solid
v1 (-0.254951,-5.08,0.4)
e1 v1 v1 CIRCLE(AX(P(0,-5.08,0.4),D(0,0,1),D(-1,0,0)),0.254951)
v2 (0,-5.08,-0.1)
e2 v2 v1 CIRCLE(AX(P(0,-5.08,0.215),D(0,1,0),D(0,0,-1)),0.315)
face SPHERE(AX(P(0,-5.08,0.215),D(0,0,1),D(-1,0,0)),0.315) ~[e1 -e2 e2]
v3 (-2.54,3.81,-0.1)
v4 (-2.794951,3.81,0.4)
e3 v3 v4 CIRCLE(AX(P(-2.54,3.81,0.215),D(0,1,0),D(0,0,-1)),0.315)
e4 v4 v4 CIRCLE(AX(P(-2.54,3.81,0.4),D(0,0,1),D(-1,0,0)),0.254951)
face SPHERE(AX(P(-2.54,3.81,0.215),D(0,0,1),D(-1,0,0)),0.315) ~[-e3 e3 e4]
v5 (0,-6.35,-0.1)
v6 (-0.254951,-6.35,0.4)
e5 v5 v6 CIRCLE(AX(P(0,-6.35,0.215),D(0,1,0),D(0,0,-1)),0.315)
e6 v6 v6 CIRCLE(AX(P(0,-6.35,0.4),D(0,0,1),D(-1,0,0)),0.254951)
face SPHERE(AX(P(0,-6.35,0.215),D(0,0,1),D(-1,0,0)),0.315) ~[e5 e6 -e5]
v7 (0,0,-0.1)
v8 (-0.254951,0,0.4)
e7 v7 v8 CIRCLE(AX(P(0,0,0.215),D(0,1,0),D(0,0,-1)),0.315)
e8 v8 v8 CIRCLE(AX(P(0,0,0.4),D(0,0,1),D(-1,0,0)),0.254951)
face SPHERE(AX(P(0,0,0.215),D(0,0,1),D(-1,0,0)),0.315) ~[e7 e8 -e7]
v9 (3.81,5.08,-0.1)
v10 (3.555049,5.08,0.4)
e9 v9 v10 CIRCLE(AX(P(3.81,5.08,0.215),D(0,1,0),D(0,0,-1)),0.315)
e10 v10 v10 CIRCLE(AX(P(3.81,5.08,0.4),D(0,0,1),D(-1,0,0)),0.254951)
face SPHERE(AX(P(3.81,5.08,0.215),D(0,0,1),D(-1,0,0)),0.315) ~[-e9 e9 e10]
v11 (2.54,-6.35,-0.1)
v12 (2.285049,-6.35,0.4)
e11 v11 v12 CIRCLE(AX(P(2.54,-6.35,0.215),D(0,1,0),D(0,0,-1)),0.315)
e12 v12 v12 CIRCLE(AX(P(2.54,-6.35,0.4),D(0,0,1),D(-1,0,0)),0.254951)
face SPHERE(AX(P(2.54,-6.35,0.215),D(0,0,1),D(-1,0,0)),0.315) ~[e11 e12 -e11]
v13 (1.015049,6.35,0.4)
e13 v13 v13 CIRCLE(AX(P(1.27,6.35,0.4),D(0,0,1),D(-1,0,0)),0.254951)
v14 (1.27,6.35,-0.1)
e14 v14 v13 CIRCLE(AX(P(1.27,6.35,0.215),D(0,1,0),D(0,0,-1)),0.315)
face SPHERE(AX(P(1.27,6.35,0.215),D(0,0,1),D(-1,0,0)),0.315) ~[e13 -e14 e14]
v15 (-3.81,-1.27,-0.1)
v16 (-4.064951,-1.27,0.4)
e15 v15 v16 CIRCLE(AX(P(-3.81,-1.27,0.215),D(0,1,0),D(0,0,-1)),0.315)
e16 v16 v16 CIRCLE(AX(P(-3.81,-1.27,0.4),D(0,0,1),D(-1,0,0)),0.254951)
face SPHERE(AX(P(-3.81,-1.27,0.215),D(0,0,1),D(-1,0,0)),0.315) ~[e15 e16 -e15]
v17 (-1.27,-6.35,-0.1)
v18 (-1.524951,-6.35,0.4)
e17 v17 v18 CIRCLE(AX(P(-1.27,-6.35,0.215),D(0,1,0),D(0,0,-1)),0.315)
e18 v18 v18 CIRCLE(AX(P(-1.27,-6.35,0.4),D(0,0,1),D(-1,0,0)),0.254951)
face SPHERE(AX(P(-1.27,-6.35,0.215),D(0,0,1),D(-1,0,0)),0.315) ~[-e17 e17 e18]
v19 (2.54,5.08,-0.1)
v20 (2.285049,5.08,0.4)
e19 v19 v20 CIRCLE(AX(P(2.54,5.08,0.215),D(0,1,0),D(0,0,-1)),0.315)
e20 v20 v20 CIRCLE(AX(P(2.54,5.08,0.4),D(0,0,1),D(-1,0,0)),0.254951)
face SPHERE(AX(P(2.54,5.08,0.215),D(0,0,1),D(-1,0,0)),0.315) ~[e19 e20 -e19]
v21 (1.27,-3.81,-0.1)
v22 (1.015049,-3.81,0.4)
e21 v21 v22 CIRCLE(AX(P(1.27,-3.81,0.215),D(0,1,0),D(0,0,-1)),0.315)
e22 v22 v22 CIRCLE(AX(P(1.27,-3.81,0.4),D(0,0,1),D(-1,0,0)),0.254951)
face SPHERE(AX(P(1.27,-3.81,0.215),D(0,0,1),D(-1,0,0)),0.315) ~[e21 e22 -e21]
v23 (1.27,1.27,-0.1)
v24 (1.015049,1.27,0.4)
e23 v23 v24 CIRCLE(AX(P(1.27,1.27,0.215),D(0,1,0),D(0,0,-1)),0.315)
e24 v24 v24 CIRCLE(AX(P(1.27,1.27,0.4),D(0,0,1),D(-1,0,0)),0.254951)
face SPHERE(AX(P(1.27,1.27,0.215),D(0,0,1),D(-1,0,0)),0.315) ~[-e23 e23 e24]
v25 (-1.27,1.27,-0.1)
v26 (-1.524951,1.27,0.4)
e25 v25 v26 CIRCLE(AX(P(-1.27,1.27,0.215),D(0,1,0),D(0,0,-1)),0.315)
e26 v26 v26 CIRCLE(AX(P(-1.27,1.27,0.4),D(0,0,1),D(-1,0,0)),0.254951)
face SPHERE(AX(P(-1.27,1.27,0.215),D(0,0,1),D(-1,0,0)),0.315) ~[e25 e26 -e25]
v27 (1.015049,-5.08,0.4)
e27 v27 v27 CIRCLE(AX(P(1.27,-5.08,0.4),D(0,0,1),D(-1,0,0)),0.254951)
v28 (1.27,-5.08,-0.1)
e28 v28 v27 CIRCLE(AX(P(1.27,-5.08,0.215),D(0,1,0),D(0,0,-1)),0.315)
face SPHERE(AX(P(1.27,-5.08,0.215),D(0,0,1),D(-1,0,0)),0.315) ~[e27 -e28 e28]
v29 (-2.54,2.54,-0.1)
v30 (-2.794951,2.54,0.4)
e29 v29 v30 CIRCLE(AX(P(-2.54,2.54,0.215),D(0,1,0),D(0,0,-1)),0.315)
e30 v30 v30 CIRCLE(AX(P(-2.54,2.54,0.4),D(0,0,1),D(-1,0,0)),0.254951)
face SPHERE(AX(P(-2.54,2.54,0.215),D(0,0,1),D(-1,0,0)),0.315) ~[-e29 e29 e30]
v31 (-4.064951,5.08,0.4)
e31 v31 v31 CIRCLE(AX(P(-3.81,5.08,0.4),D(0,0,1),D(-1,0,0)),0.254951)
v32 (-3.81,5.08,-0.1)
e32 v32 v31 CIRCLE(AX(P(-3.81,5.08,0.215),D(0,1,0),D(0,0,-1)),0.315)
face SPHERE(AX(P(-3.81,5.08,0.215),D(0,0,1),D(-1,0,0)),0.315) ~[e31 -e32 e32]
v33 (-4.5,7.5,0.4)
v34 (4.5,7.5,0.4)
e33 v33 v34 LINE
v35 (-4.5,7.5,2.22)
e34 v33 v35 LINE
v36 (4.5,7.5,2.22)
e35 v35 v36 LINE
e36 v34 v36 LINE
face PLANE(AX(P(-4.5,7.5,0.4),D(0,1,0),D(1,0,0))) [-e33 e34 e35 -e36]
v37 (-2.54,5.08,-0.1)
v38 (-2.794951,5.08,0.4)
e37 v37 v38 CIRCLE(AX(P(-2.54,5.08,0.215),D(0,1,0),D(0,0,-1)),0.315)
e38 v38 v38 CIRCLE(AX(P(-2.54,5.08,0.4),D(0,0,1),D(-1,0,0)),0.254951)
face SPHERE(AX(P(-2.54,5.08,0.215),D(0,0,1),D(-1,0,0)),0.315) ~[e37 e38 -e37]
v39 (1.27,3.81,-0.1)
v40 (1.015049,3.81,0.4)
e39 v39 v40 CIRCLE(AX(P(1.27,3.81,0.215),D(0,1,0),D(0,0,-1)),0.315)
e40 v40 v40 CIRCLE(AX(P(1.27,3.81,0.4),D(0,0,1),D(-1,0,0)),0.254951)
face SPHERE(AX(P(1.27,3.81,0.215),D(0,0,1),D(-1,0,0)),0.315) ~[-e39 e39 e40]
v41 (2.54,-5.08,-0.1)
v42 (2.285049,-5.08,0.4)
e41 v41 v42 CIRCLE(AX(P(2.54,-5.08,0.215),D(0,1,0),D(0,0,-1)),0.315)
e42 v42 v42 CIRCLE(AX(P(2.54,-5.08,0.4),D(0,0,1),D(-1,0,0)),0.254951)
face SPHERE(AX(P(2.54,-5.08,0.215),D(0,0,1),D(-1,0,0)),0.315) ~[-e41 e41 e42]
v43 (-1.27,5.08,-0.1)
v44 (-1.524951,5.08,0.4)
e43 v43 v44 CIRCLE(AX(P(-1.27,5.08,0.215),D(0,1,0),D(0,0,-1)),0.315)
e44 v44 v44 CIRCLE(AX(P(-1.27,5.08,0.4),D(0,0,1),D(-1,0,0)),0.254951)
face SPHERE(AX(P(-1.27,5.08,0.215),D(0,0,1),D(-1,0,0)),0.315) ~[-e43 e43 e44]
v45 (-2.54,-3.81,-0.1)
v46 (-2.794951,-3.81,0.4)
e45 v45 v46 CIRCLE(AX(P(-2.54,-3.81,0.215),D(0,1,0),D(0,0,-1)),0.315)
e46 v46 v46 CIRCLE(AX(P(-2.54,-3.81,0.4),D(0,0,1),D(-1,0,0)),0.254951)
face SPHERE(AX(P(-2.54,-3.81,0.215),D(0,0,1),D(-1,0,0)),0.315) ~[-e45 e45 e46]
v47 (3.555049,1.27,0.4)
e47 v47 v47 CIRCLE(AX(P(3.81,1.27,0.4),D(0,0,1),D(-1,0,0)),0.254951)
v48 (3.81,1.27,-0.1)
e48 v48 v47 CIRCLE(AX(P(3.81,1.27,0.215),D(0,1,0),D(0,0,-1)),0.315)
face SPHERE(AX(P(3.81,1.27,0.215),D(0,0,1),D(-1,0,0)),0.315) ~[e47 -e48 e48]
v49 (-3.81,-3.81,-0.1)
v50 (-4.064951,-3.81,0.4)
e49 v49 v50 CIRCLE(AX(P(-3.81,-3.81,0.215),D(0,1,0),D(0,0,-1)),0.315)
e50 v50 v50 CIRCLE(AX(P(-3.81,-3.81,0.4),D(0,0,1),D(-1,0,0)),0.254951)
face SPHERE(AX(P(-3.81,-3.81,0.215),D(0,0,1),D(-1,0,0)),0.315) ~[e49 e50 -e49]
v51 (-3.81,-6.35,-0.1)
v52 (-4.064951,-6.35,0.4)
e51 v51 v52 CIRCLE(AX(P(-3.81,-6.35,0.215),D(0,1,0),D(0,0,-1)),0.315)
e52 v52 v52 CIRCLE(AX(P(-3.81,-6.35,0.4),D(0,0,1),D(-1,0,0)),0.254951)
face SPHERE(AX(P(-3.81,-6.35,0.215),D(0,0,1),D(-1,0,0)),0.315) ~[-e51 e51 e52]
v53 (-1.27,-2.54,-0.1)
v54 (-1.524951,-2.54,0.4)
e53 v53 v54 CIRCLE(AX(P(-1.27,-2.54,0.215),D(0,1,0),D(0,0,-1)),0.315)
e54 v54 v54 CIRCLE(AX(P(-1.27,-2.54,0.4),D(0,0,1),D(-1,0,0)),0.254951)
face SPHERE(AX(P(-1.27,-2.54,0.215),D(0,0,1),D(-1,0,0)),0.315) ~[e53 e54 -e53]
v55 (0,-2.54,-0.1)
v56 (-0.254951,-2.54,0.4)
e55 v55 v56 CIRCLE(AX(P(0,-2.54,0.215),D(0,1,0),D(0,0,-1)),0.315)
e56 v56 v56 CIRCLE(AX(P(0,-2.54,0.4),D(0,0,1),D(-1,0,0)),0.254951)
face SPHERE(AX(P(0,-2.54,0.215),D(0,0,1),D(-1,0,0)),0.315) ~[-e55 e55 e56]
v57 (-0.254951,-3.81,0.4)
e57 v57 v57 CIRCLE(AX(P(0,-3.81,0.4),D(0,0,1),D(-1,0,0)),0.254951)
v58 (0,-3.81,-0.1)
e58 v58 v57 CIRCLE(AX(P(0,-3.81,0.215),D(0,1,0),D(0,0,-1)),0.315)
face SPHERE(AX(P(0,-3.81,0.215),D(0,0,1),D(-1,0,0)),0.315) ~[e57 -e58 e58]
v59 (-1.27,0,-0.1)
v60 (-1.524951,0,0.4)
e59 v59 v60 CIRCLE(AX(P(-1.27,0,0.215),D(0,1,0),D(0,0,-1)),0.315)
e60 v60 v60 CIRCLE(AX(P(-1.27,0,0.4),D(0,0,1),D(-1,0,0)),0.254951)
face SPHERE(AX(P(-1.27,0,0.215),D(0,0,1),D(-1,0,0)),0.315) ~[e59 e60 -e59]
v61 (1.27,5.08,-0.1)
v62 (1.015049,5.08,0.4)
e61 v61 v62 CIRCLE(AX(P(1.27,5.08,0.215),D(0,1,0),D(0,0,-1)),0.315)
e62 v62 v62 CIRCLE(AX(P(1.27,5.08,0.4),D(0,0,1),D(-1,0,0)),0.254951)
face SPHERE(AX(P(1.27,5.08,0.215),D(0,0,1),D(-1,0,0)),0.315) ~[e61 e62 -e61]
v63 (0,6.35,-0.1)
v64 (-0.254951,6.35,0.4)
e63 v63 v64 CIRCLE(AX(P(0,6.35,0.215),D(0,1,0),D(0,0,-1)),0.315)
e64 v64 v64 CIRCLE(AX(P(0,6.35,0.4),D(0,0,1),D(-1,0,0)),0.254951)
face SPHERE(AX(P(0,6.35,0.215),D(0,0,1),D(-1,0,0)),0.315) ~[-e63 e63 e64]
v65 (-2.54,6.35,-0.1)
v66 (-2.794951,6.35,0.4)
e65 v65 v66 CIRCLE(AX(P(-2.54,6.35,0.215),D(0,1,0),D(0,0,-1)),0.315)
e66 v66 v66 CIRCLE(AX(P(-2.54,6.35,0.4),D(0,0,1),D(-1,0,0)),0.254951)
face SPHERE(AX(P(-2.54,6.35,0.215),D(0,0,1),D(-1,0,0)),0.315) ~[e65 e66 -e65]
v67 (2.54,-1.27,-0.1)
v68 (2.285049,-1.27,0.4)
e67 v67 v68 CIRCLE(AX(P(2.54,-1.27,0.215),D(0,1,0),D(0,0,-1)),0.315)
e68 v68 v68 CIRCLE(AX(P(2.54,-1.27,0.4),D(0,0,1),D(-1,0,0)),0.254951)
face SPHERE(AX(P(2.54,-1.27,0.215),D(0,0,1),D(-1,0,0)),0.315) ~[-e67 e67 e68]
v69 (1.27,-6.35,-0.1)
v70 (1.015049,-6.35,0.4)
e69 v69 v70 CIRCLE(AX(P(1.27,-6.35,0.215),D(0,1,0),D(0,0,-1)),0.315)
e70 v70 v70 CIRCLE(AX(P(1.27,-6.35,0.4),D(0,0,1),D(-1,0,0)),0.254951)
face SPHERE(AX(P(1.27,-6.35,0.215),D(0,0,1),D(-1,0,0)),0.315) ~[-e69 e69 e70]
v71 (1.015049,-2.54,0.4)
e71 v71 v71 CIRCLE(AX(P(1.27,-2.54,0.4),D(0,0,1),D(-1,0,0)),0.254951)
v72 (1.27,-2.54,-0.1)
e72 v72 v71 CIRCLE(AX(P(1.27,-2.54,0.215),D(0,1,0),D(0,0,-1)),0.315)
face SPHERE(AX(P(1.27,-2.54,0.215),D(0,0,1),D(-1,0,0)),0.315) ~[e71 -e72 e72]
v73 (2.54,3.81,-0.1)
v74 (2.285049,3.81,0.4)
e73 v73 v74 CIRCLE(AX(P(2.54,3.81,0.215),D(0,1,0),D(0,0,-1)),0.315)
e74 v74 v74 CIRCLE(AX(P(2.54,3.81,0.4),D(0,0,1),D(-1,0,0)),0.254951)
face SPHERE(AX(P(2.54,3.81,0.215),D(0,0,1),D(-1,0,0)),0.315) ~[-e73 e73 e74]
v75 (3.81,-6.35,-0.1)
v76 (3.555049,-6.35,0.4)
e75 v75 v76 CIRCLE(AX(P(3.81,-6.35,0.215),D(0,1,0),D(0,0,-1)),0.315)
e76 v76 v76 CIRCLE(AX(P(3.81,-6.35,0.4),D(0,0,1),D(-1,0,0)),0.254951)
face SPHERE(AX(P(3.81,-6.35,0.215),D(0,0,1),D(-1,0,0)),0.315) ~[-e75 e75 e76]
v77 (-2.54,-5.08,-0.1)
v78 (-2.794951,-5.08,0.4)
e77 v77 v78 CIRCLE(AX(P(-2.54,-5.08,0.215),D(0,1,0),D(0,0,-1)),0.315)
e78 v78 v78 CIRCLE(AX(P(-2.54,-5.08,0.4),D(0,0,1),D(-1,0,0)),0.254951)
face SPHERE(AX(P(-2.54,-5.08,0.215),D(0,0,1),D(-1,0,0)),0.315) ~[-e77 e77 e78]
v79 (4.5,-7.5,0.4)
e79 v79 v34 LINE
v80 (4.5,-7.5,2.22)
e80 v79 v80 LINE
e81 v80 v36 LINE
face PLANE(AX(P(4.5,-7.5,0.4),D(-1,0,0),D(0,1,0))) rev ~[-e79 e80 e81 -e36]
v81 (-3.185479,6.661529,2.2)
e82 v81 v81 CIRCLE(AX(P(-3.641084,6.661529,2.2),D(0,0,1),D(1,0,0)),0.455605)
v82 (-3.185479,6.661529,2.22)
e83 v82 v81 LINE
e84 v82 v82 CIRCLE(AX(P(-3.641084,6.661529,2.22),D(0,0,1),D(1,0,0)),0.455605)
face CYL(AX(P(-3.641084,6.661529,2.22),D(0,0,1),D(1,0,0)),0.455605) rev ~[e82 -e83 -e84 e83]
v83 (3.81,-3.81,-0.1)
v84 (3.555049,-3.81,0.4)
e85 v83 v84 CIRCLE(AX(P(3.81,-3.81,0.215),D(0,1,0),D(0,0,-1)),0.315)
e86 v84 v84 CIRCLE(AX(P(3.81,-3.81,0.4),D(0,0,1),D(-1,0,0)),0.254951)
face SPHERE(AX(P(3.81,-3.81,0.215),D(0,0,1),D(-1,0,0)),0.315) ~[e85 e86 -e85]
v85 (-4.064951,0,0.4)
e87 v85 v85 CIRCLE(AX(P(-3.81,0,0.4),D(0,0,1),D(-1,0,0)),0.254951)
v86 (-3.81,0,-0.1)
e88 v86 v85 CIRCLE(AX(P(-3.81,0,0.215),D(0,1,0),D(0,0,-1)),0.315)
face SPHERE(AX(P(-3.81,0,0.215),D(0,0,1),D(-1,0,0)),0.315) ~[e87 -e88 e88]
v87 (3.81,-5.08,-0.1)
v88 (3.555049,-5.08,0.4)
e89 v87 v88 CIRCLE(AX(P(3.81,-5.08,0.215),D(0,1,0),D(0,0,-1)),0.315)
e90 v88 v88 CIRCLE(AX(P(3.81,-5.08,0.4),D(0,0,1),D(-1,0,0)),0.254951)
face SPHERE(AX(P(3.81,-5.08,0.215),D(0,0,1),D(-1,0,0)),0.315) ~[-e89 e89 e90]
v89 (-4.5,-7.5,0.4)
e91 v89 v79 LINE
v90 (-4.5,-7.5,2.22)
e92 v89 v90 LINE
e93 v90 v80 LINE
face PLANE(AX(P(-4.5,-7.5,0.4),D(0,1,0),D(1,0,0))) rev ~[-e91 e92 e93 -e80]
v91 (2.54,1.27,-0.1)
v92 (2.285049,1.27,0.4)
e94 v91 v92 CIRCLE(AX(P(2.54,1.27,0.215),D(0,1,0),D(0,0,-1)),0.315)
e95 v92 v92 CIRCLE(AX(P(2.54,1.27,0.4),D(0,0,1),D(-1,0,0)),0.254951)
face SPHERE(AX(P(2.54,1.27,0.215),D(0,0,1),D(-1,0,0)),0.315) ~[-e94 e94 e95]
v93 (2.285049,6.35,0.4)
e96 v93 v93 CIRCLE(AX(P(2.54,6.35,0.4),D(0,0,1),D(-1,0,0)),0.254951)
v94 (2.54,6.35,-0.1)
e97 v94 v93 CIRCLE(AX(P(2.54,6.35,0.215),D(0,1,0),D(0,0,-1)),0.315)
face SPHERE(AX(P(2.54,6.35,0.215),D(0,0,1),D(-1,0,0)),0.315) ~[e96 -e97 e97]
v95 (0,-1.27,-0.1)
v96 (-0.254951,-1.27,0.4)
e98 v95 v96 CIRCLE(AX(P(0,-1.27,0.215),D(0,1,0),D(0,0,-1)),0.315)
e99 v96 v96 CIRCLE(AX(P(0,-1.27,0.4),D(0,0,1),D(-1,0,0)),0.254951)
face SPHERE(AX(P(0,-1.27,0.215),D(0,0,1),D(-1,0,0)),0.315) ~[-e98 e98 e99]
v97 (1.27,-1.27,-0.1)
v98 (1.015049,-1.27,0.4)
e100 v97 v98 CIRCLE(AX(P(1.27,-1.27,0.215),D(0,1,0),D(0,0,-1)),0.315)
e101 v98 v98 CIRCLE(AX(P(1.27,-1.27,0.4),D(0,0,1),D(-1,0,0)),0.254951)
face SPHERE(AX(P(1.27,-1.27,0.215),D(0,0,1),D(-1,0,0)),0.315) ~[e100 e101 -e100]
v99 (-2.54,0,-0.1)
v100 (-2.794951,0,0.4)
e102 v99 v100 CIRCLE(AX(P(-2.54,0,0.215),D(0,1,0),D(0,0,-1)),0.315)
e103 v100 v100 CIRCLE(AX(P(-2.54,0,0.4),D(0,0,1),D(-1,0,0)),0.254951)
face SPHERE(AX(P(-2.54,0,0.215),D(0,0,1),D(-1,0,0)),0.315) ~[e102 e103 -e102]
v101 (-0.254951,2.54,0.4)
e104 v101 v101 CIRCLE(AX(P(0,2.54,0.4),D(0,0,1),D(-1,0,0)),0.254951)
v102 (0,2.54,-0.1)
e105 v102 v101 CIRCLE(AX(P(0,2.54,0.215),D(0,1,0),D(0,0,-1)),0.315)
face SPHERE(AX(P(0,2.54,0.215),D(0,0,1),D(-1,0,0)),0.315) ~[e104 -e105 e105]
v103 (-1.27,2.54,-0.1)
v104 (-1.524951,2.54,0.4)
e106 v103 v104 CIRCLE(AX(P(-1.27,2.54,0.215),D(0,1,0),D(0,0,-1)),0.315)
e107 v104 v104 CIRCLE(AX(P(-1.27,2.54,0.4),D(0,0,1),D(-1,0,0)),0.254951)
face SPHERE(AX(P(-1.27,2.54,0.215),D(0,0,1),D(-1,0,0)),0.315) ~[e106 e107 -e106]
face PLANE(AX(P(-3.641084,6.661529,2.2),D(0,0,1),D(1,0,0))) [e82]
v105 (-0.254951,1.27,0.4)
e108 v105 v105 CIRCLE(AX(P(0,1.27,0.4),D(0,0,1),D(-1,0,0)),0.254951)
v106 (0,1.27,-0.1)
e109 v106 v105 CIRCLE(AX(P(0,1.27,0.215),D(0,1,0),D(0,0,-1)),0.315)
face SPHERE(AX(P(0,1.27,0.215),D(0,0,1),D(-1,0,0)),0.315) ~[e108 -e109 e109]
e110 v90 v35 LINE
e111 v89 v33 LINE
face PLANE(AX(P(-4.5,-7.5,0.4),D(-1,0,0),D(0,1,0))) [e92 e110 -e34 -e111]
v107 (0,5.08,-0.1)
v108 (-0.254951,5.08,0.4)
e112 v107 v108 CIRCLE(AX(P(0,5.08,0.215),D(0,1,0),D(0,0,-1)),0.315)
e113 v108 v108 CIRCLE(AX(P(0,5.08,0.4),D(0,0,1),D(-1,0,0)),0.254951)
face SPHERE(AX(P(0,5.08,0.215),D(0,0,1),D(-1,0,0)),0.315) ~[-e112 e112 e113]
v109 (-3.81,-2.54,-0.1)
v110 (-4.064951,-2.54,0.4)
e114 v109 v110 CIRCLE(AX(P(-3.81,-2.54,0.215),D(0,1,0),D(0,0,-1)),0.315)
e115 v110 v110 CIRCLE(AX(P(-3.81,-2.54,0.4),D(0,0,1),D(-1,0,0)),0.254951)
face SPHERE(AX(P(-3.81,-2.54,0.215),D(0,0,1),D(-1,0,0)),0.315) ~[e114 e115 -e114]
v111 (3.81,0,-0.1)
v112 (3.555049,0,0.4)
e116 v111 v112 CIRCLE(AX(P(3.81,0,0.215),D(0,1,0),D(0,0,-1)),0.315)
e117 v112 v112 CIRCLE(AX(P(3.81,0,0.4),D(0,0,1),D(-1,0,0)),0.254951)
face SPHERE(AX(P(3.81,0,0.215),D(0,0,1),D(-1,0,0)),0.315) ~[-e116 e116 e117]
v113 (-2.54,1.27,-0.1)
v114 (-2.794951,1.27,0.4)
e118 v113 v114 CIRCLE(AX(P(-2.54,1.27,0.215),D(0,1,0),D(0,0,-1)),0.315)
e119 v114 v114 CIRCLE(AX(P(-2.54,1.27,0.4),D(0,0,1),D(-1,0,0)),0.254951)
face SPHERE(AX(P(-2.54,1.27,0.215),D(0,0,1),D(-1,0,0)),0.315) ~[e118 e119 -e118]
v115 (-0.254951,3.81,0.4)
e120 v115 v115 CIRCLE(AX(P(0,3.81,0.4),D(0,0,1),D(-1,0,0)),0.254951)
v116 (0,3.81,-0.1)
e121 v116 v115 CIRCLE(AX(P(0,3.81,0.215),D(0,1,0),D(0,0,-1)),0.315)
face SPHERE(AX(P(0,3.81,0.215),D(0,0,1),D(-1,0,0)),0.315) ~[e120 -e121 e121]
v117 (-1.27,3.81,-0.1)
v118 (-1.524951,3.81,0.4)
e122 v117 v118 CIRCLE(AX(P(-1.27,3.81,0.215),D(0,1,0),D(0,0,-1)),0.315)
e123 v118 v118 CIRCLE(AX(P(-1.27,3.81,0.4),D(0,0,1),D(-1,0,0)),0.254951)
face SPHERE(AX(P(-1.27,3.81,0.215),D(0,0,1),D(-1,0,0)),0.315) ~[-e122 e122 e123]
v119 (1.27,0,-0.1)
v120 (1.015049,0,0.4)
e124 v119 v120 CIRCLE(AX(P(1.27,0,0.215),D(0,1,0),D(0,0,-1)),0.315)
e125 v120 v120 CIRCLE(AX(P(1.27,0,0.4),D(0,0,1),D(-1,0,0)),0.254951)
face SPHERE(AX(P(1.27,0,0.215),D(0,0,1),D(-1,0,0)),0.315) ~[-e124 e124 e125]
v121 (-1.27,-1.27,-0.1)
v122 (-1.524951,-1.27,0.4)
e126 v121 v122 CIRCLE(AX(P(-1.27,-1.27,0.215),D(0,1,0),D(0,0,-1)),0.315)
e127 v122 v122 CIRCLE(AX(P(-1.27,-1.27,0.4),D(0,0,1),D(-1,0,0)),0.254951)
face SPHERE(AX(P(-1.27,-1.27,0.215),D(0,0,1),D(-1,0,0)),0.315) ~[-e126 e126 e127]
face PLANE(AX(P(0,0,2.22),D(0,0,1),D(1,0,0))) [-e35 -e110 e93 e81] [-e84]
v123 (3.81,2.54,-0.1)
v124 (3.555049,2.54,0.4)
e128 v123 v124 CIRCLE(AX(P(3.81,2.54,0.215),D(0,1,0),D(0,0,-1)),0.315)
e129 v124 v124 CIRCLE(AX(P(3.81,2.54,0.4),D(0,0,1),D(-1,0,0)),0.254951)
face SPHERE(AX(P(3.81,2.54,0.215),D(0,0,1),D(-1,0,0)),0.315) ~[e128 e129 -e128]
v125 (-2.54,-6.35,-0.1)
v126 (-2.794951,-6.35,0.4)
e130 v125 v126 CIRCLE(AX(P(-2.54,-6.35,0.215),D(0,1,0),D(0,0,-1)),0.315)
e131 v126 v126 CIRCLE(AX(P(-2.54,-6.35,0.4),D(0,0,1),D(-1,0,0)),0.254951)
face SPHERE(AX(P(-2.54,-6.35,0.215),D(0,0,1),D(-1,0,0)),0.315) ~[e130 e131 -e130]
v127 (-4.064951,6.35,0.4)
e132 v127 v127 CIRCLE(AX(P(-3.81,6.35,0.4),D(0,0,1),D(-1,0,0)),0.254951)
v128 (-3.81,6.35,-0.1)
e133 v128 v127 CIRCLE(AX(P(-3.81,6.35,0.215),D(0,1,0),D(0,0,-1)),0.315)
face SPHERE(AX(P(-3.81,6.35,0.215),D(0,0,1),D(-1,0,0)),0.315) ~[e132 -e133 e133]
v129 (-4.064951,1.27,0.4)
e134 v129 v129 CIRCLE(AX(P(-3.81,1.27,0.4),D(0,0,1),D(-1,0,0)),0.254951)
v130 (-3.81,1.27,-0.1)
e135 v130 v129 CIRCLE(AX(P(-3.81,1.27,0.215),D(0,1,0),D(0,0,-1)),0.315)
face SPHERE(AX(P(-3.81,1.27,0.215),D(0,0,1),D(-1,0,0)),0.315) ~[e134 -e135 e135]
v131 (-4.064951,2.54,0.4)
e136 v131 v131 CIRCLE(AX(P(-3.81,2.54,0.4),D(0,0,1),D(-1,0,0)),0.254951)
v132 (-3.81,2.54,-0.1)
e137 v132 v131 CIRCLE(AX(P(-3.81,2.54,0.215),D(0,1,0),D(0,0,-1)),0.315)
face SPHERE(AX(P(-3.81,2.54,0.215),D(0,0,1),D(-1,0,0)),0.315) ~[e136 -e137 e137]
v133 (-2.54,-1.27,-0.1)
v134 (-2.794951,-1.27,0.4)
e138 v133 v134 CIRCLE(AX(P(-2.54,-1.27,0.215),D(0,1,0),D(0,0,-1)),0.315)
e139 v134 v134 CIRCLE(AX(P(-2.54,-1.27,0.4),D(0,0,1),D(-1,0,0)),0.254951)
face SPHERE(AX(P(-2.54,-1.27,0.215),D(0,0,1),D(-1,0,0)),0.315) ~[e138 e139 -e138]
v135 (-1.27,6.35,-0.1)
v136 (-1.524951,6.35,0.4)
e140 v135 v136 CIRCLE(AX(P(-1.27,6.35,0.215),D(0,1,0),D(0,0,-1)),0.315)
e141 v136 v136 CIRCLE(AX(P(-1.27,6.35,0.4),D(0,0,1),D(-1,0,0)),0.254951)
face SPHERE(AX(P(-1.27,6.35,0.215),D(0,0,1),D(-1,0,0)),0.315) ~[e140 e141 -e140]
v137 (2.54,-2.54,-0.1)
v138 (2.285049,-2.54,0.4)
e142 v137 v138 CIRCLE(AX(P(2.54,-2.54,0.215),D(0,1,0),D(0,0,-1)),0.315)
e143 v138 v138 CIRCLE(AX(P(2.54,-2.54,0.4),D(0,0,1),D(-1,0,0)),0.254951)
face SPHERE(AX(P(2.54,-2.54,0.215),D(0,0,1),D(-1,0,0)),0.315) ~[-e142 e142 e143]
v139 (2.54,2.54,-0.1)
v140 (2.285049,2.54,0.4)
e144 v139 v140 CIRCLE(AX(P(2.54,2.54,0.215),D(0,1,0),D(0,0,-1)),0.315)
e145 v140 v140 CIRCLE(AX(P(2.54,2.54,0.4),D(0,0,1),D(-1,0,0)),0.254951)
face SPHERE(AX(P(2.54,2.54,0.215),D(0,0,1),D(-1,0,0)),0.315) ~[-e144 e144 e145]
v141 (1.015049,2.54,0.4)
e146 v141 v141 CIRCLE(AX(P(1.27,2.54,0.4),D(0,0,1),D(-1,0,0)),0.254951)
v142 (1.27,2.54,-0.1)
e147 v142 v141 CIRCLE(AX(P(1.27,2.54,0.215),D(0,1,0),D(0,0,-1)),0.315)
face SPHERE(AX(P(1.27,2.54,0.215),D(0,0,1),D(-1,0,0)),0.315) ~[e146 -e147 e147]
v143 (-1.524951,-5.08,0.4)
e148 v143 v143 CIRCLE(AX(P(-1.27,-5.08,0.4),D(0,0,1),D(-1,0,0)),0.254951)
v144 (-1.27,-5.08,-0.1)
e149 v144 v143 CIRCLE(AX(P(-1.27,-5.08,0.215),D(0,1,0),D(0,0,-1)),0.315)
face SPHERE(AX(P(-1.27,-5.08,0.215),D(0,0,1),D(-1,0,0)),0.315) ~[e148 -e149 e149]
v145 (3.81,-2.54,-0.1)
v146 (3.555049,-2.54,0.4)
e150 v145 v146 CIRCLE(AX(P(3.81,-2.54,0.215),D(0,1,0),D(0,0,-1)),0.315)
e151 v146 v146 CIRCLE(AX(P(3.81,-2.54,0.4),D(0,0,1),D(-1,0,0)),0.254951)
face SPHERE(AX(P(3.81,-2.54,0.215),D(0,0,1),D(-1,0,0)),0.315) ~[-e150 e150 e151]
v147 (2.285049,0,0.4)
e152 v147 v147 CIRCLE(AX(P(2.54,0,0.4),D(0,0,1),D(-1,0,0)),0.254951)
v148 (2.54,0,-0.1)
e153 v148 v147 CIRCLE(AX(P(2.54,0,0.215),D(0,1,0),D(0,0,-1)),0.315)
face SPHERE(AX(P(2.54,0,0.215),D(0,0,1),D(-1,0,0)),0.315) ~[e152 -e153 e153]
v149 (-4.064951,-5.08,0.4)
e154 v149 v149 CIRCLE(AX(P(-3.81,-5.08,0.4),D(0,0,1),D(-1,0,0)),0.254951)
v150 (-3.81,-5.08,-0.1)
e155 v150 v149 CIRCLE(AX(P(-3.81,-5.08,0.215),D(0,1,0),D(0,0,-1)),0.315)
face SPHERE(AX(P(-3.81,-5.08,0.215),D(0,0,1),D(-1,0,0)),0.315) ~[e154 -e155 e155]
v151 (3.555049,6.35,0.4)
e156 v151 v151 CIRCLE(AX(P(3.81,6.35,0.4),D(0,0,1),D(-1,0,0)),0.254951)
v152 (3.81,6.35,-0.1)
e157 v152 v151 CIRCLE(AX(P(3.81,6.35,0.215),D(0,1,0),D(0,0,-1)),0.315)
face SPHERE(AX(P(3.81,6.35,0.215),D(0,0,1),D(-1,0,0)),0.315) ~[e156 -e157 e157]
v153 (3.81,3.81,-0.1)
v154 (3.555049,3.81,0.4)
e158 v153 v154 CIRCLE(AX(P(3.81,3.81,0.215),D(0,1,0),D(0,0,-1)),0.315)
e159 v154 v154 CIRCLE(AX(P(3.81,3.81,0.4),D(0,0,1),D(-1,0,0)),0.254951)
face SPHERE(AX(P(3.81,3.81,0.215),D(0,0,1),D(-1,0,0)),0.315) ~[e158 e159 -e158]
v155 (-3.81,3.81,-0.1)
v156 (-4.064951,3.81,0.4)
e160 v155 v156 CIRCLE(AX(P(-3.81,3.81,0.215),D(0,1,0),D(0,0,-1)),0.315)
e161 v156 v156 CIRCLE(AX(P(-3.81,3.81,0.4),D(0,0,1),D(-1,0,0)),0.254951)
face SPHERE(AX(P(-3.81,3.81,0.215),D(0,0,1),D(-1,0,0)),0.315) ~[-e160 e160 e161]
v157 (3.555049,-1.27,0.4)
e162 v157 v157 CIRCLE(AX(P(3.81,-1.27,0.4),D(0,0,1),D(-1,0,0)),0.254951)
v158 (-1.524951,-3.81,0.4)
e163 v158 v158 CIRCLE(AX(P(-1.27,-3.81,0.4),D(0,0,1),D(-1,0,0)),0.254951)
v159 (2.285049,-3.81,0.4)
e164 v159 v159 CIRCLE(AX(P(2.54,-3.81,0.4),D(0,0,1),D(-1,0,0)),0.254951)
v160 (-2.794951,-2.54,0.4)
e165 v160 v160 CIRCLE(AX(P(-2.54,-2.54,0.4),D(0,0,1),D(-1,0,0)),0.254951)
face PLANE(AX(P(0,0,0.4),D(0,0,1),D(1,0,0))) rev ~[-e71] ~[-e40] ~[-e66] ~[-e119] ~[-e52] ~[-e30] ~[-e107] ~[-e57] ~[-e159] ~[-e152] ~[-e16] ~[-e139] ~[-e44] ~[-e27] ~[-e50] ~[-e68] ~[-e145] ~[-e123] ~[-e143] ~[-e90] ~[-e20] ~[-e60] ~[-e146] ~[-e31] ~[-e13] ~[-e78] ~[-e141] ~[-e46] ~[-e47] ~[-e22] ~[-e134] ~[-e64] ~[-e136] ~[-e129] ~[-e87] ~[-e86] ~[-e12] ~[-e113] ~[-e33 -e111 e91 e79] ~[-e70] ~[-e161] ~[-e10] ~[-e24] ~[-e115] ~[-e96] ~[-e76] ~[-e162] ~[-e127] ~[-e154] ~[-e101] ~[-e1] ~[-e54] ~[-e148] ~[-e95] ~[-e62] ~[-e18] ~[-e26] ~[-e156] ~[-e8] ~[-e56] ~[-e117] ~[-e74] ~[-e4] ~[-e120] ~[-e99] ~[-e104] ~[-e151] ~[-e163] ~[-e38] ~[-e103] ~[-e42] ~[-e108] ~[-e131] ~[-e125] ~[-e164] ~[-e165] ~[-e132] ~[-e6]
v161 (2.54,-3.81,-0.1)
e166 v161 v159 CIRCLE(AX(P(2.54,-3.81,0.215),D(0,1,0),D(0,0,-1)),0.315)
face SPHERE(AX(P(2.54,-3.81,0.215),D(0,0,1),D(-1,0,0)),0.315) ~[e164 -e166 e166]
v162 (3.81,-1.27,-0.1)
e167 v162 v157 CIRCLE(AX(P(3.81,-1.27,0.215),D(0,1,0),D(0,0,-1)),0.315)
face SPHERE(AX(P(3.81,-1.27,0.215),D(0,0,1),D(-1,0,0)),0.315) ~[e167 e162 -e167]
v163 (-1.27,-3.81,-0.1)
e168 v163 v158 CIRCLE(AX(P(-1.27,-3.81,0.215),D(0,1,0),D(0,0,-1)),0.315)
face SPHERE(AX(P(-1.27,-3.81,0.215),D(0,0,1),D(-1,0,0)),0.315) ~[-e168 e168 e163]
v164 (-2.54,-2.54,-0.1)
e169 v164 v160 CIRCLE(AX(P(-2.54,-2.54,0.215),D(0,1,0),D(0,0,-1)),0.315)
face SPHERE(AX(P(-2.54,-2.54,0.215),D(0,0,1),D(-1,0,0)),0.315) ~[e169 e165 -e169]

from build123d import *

# Parameters (mm, degrees)
BOSS_EXTRUDE1_START  = 0.4
SKETCH1_W            = 9
SKETCH1_H            = 15
BOSS_EXTRUDE1_DEPTH  = 1.82
LPATTERN1_COUNT      = 11
LPATTERN1_PITCH      = 1.27
LPATTERN1_COUNT_DIR2 = 7
LPATTERN1_PITCH_DIR2 = 1.27
SKETCH3_R            = 0.455605471
CUT_EXTRUDE1_DEPTH   = 0.02


with BuildPart() as part:
    # Sketch1 → Boss-Extrude1 (new body)
    with BuildSketch(Plane.XY.offset(BOSS_EXTRUDE1_START)):
        Rectangle(SKETCH1_W, SKETCH1_H)
    extrude(amount=BOSS_EXTRUDE1_DEPTH)

    # Sketch2 → Revolve1 (revolve)
    with BuildSketch(Plane(origin=(0, -6.35, 0), x_dir=(-1, 0, 0), z_dir=(0, -1, 0))):
        with BuildLine():
            Line((3.81, -0.53), (3.81, 0.1))
            ThreePointArc((3.81, 0.1), (4.125, -0.215), (3.81, -0.53))
        make_face()
    revolve1 = revolve(axis=Axis((-3.81, -6.35, 0.53), (0, 0, -1)))

    # LPattern1: Revolve1 11 × 7
    with Locations(*[(j * LPATTERN1_PITCH_DIR2, i * LPATTERN1_PITCH, 0) for i in range(LPATTERN1_COUNT) for j in range(LPATTERN1_COUNT_DIR2) if (i, j) != (0, 0)]):
        add(revolve1)

    # Sketch3 → Cut-Extrude1 (cut)
    with BuildSketch(Plane.XY.offset(2.22)):
        with Locations((-3.641084257, 6.661529152)):
            Circle(SKETCH3_R)
    extrude(amount=-CUT_EXTRUDE1_DEPTH, mode=Mode.SUBTRACT)


solid = part.part
